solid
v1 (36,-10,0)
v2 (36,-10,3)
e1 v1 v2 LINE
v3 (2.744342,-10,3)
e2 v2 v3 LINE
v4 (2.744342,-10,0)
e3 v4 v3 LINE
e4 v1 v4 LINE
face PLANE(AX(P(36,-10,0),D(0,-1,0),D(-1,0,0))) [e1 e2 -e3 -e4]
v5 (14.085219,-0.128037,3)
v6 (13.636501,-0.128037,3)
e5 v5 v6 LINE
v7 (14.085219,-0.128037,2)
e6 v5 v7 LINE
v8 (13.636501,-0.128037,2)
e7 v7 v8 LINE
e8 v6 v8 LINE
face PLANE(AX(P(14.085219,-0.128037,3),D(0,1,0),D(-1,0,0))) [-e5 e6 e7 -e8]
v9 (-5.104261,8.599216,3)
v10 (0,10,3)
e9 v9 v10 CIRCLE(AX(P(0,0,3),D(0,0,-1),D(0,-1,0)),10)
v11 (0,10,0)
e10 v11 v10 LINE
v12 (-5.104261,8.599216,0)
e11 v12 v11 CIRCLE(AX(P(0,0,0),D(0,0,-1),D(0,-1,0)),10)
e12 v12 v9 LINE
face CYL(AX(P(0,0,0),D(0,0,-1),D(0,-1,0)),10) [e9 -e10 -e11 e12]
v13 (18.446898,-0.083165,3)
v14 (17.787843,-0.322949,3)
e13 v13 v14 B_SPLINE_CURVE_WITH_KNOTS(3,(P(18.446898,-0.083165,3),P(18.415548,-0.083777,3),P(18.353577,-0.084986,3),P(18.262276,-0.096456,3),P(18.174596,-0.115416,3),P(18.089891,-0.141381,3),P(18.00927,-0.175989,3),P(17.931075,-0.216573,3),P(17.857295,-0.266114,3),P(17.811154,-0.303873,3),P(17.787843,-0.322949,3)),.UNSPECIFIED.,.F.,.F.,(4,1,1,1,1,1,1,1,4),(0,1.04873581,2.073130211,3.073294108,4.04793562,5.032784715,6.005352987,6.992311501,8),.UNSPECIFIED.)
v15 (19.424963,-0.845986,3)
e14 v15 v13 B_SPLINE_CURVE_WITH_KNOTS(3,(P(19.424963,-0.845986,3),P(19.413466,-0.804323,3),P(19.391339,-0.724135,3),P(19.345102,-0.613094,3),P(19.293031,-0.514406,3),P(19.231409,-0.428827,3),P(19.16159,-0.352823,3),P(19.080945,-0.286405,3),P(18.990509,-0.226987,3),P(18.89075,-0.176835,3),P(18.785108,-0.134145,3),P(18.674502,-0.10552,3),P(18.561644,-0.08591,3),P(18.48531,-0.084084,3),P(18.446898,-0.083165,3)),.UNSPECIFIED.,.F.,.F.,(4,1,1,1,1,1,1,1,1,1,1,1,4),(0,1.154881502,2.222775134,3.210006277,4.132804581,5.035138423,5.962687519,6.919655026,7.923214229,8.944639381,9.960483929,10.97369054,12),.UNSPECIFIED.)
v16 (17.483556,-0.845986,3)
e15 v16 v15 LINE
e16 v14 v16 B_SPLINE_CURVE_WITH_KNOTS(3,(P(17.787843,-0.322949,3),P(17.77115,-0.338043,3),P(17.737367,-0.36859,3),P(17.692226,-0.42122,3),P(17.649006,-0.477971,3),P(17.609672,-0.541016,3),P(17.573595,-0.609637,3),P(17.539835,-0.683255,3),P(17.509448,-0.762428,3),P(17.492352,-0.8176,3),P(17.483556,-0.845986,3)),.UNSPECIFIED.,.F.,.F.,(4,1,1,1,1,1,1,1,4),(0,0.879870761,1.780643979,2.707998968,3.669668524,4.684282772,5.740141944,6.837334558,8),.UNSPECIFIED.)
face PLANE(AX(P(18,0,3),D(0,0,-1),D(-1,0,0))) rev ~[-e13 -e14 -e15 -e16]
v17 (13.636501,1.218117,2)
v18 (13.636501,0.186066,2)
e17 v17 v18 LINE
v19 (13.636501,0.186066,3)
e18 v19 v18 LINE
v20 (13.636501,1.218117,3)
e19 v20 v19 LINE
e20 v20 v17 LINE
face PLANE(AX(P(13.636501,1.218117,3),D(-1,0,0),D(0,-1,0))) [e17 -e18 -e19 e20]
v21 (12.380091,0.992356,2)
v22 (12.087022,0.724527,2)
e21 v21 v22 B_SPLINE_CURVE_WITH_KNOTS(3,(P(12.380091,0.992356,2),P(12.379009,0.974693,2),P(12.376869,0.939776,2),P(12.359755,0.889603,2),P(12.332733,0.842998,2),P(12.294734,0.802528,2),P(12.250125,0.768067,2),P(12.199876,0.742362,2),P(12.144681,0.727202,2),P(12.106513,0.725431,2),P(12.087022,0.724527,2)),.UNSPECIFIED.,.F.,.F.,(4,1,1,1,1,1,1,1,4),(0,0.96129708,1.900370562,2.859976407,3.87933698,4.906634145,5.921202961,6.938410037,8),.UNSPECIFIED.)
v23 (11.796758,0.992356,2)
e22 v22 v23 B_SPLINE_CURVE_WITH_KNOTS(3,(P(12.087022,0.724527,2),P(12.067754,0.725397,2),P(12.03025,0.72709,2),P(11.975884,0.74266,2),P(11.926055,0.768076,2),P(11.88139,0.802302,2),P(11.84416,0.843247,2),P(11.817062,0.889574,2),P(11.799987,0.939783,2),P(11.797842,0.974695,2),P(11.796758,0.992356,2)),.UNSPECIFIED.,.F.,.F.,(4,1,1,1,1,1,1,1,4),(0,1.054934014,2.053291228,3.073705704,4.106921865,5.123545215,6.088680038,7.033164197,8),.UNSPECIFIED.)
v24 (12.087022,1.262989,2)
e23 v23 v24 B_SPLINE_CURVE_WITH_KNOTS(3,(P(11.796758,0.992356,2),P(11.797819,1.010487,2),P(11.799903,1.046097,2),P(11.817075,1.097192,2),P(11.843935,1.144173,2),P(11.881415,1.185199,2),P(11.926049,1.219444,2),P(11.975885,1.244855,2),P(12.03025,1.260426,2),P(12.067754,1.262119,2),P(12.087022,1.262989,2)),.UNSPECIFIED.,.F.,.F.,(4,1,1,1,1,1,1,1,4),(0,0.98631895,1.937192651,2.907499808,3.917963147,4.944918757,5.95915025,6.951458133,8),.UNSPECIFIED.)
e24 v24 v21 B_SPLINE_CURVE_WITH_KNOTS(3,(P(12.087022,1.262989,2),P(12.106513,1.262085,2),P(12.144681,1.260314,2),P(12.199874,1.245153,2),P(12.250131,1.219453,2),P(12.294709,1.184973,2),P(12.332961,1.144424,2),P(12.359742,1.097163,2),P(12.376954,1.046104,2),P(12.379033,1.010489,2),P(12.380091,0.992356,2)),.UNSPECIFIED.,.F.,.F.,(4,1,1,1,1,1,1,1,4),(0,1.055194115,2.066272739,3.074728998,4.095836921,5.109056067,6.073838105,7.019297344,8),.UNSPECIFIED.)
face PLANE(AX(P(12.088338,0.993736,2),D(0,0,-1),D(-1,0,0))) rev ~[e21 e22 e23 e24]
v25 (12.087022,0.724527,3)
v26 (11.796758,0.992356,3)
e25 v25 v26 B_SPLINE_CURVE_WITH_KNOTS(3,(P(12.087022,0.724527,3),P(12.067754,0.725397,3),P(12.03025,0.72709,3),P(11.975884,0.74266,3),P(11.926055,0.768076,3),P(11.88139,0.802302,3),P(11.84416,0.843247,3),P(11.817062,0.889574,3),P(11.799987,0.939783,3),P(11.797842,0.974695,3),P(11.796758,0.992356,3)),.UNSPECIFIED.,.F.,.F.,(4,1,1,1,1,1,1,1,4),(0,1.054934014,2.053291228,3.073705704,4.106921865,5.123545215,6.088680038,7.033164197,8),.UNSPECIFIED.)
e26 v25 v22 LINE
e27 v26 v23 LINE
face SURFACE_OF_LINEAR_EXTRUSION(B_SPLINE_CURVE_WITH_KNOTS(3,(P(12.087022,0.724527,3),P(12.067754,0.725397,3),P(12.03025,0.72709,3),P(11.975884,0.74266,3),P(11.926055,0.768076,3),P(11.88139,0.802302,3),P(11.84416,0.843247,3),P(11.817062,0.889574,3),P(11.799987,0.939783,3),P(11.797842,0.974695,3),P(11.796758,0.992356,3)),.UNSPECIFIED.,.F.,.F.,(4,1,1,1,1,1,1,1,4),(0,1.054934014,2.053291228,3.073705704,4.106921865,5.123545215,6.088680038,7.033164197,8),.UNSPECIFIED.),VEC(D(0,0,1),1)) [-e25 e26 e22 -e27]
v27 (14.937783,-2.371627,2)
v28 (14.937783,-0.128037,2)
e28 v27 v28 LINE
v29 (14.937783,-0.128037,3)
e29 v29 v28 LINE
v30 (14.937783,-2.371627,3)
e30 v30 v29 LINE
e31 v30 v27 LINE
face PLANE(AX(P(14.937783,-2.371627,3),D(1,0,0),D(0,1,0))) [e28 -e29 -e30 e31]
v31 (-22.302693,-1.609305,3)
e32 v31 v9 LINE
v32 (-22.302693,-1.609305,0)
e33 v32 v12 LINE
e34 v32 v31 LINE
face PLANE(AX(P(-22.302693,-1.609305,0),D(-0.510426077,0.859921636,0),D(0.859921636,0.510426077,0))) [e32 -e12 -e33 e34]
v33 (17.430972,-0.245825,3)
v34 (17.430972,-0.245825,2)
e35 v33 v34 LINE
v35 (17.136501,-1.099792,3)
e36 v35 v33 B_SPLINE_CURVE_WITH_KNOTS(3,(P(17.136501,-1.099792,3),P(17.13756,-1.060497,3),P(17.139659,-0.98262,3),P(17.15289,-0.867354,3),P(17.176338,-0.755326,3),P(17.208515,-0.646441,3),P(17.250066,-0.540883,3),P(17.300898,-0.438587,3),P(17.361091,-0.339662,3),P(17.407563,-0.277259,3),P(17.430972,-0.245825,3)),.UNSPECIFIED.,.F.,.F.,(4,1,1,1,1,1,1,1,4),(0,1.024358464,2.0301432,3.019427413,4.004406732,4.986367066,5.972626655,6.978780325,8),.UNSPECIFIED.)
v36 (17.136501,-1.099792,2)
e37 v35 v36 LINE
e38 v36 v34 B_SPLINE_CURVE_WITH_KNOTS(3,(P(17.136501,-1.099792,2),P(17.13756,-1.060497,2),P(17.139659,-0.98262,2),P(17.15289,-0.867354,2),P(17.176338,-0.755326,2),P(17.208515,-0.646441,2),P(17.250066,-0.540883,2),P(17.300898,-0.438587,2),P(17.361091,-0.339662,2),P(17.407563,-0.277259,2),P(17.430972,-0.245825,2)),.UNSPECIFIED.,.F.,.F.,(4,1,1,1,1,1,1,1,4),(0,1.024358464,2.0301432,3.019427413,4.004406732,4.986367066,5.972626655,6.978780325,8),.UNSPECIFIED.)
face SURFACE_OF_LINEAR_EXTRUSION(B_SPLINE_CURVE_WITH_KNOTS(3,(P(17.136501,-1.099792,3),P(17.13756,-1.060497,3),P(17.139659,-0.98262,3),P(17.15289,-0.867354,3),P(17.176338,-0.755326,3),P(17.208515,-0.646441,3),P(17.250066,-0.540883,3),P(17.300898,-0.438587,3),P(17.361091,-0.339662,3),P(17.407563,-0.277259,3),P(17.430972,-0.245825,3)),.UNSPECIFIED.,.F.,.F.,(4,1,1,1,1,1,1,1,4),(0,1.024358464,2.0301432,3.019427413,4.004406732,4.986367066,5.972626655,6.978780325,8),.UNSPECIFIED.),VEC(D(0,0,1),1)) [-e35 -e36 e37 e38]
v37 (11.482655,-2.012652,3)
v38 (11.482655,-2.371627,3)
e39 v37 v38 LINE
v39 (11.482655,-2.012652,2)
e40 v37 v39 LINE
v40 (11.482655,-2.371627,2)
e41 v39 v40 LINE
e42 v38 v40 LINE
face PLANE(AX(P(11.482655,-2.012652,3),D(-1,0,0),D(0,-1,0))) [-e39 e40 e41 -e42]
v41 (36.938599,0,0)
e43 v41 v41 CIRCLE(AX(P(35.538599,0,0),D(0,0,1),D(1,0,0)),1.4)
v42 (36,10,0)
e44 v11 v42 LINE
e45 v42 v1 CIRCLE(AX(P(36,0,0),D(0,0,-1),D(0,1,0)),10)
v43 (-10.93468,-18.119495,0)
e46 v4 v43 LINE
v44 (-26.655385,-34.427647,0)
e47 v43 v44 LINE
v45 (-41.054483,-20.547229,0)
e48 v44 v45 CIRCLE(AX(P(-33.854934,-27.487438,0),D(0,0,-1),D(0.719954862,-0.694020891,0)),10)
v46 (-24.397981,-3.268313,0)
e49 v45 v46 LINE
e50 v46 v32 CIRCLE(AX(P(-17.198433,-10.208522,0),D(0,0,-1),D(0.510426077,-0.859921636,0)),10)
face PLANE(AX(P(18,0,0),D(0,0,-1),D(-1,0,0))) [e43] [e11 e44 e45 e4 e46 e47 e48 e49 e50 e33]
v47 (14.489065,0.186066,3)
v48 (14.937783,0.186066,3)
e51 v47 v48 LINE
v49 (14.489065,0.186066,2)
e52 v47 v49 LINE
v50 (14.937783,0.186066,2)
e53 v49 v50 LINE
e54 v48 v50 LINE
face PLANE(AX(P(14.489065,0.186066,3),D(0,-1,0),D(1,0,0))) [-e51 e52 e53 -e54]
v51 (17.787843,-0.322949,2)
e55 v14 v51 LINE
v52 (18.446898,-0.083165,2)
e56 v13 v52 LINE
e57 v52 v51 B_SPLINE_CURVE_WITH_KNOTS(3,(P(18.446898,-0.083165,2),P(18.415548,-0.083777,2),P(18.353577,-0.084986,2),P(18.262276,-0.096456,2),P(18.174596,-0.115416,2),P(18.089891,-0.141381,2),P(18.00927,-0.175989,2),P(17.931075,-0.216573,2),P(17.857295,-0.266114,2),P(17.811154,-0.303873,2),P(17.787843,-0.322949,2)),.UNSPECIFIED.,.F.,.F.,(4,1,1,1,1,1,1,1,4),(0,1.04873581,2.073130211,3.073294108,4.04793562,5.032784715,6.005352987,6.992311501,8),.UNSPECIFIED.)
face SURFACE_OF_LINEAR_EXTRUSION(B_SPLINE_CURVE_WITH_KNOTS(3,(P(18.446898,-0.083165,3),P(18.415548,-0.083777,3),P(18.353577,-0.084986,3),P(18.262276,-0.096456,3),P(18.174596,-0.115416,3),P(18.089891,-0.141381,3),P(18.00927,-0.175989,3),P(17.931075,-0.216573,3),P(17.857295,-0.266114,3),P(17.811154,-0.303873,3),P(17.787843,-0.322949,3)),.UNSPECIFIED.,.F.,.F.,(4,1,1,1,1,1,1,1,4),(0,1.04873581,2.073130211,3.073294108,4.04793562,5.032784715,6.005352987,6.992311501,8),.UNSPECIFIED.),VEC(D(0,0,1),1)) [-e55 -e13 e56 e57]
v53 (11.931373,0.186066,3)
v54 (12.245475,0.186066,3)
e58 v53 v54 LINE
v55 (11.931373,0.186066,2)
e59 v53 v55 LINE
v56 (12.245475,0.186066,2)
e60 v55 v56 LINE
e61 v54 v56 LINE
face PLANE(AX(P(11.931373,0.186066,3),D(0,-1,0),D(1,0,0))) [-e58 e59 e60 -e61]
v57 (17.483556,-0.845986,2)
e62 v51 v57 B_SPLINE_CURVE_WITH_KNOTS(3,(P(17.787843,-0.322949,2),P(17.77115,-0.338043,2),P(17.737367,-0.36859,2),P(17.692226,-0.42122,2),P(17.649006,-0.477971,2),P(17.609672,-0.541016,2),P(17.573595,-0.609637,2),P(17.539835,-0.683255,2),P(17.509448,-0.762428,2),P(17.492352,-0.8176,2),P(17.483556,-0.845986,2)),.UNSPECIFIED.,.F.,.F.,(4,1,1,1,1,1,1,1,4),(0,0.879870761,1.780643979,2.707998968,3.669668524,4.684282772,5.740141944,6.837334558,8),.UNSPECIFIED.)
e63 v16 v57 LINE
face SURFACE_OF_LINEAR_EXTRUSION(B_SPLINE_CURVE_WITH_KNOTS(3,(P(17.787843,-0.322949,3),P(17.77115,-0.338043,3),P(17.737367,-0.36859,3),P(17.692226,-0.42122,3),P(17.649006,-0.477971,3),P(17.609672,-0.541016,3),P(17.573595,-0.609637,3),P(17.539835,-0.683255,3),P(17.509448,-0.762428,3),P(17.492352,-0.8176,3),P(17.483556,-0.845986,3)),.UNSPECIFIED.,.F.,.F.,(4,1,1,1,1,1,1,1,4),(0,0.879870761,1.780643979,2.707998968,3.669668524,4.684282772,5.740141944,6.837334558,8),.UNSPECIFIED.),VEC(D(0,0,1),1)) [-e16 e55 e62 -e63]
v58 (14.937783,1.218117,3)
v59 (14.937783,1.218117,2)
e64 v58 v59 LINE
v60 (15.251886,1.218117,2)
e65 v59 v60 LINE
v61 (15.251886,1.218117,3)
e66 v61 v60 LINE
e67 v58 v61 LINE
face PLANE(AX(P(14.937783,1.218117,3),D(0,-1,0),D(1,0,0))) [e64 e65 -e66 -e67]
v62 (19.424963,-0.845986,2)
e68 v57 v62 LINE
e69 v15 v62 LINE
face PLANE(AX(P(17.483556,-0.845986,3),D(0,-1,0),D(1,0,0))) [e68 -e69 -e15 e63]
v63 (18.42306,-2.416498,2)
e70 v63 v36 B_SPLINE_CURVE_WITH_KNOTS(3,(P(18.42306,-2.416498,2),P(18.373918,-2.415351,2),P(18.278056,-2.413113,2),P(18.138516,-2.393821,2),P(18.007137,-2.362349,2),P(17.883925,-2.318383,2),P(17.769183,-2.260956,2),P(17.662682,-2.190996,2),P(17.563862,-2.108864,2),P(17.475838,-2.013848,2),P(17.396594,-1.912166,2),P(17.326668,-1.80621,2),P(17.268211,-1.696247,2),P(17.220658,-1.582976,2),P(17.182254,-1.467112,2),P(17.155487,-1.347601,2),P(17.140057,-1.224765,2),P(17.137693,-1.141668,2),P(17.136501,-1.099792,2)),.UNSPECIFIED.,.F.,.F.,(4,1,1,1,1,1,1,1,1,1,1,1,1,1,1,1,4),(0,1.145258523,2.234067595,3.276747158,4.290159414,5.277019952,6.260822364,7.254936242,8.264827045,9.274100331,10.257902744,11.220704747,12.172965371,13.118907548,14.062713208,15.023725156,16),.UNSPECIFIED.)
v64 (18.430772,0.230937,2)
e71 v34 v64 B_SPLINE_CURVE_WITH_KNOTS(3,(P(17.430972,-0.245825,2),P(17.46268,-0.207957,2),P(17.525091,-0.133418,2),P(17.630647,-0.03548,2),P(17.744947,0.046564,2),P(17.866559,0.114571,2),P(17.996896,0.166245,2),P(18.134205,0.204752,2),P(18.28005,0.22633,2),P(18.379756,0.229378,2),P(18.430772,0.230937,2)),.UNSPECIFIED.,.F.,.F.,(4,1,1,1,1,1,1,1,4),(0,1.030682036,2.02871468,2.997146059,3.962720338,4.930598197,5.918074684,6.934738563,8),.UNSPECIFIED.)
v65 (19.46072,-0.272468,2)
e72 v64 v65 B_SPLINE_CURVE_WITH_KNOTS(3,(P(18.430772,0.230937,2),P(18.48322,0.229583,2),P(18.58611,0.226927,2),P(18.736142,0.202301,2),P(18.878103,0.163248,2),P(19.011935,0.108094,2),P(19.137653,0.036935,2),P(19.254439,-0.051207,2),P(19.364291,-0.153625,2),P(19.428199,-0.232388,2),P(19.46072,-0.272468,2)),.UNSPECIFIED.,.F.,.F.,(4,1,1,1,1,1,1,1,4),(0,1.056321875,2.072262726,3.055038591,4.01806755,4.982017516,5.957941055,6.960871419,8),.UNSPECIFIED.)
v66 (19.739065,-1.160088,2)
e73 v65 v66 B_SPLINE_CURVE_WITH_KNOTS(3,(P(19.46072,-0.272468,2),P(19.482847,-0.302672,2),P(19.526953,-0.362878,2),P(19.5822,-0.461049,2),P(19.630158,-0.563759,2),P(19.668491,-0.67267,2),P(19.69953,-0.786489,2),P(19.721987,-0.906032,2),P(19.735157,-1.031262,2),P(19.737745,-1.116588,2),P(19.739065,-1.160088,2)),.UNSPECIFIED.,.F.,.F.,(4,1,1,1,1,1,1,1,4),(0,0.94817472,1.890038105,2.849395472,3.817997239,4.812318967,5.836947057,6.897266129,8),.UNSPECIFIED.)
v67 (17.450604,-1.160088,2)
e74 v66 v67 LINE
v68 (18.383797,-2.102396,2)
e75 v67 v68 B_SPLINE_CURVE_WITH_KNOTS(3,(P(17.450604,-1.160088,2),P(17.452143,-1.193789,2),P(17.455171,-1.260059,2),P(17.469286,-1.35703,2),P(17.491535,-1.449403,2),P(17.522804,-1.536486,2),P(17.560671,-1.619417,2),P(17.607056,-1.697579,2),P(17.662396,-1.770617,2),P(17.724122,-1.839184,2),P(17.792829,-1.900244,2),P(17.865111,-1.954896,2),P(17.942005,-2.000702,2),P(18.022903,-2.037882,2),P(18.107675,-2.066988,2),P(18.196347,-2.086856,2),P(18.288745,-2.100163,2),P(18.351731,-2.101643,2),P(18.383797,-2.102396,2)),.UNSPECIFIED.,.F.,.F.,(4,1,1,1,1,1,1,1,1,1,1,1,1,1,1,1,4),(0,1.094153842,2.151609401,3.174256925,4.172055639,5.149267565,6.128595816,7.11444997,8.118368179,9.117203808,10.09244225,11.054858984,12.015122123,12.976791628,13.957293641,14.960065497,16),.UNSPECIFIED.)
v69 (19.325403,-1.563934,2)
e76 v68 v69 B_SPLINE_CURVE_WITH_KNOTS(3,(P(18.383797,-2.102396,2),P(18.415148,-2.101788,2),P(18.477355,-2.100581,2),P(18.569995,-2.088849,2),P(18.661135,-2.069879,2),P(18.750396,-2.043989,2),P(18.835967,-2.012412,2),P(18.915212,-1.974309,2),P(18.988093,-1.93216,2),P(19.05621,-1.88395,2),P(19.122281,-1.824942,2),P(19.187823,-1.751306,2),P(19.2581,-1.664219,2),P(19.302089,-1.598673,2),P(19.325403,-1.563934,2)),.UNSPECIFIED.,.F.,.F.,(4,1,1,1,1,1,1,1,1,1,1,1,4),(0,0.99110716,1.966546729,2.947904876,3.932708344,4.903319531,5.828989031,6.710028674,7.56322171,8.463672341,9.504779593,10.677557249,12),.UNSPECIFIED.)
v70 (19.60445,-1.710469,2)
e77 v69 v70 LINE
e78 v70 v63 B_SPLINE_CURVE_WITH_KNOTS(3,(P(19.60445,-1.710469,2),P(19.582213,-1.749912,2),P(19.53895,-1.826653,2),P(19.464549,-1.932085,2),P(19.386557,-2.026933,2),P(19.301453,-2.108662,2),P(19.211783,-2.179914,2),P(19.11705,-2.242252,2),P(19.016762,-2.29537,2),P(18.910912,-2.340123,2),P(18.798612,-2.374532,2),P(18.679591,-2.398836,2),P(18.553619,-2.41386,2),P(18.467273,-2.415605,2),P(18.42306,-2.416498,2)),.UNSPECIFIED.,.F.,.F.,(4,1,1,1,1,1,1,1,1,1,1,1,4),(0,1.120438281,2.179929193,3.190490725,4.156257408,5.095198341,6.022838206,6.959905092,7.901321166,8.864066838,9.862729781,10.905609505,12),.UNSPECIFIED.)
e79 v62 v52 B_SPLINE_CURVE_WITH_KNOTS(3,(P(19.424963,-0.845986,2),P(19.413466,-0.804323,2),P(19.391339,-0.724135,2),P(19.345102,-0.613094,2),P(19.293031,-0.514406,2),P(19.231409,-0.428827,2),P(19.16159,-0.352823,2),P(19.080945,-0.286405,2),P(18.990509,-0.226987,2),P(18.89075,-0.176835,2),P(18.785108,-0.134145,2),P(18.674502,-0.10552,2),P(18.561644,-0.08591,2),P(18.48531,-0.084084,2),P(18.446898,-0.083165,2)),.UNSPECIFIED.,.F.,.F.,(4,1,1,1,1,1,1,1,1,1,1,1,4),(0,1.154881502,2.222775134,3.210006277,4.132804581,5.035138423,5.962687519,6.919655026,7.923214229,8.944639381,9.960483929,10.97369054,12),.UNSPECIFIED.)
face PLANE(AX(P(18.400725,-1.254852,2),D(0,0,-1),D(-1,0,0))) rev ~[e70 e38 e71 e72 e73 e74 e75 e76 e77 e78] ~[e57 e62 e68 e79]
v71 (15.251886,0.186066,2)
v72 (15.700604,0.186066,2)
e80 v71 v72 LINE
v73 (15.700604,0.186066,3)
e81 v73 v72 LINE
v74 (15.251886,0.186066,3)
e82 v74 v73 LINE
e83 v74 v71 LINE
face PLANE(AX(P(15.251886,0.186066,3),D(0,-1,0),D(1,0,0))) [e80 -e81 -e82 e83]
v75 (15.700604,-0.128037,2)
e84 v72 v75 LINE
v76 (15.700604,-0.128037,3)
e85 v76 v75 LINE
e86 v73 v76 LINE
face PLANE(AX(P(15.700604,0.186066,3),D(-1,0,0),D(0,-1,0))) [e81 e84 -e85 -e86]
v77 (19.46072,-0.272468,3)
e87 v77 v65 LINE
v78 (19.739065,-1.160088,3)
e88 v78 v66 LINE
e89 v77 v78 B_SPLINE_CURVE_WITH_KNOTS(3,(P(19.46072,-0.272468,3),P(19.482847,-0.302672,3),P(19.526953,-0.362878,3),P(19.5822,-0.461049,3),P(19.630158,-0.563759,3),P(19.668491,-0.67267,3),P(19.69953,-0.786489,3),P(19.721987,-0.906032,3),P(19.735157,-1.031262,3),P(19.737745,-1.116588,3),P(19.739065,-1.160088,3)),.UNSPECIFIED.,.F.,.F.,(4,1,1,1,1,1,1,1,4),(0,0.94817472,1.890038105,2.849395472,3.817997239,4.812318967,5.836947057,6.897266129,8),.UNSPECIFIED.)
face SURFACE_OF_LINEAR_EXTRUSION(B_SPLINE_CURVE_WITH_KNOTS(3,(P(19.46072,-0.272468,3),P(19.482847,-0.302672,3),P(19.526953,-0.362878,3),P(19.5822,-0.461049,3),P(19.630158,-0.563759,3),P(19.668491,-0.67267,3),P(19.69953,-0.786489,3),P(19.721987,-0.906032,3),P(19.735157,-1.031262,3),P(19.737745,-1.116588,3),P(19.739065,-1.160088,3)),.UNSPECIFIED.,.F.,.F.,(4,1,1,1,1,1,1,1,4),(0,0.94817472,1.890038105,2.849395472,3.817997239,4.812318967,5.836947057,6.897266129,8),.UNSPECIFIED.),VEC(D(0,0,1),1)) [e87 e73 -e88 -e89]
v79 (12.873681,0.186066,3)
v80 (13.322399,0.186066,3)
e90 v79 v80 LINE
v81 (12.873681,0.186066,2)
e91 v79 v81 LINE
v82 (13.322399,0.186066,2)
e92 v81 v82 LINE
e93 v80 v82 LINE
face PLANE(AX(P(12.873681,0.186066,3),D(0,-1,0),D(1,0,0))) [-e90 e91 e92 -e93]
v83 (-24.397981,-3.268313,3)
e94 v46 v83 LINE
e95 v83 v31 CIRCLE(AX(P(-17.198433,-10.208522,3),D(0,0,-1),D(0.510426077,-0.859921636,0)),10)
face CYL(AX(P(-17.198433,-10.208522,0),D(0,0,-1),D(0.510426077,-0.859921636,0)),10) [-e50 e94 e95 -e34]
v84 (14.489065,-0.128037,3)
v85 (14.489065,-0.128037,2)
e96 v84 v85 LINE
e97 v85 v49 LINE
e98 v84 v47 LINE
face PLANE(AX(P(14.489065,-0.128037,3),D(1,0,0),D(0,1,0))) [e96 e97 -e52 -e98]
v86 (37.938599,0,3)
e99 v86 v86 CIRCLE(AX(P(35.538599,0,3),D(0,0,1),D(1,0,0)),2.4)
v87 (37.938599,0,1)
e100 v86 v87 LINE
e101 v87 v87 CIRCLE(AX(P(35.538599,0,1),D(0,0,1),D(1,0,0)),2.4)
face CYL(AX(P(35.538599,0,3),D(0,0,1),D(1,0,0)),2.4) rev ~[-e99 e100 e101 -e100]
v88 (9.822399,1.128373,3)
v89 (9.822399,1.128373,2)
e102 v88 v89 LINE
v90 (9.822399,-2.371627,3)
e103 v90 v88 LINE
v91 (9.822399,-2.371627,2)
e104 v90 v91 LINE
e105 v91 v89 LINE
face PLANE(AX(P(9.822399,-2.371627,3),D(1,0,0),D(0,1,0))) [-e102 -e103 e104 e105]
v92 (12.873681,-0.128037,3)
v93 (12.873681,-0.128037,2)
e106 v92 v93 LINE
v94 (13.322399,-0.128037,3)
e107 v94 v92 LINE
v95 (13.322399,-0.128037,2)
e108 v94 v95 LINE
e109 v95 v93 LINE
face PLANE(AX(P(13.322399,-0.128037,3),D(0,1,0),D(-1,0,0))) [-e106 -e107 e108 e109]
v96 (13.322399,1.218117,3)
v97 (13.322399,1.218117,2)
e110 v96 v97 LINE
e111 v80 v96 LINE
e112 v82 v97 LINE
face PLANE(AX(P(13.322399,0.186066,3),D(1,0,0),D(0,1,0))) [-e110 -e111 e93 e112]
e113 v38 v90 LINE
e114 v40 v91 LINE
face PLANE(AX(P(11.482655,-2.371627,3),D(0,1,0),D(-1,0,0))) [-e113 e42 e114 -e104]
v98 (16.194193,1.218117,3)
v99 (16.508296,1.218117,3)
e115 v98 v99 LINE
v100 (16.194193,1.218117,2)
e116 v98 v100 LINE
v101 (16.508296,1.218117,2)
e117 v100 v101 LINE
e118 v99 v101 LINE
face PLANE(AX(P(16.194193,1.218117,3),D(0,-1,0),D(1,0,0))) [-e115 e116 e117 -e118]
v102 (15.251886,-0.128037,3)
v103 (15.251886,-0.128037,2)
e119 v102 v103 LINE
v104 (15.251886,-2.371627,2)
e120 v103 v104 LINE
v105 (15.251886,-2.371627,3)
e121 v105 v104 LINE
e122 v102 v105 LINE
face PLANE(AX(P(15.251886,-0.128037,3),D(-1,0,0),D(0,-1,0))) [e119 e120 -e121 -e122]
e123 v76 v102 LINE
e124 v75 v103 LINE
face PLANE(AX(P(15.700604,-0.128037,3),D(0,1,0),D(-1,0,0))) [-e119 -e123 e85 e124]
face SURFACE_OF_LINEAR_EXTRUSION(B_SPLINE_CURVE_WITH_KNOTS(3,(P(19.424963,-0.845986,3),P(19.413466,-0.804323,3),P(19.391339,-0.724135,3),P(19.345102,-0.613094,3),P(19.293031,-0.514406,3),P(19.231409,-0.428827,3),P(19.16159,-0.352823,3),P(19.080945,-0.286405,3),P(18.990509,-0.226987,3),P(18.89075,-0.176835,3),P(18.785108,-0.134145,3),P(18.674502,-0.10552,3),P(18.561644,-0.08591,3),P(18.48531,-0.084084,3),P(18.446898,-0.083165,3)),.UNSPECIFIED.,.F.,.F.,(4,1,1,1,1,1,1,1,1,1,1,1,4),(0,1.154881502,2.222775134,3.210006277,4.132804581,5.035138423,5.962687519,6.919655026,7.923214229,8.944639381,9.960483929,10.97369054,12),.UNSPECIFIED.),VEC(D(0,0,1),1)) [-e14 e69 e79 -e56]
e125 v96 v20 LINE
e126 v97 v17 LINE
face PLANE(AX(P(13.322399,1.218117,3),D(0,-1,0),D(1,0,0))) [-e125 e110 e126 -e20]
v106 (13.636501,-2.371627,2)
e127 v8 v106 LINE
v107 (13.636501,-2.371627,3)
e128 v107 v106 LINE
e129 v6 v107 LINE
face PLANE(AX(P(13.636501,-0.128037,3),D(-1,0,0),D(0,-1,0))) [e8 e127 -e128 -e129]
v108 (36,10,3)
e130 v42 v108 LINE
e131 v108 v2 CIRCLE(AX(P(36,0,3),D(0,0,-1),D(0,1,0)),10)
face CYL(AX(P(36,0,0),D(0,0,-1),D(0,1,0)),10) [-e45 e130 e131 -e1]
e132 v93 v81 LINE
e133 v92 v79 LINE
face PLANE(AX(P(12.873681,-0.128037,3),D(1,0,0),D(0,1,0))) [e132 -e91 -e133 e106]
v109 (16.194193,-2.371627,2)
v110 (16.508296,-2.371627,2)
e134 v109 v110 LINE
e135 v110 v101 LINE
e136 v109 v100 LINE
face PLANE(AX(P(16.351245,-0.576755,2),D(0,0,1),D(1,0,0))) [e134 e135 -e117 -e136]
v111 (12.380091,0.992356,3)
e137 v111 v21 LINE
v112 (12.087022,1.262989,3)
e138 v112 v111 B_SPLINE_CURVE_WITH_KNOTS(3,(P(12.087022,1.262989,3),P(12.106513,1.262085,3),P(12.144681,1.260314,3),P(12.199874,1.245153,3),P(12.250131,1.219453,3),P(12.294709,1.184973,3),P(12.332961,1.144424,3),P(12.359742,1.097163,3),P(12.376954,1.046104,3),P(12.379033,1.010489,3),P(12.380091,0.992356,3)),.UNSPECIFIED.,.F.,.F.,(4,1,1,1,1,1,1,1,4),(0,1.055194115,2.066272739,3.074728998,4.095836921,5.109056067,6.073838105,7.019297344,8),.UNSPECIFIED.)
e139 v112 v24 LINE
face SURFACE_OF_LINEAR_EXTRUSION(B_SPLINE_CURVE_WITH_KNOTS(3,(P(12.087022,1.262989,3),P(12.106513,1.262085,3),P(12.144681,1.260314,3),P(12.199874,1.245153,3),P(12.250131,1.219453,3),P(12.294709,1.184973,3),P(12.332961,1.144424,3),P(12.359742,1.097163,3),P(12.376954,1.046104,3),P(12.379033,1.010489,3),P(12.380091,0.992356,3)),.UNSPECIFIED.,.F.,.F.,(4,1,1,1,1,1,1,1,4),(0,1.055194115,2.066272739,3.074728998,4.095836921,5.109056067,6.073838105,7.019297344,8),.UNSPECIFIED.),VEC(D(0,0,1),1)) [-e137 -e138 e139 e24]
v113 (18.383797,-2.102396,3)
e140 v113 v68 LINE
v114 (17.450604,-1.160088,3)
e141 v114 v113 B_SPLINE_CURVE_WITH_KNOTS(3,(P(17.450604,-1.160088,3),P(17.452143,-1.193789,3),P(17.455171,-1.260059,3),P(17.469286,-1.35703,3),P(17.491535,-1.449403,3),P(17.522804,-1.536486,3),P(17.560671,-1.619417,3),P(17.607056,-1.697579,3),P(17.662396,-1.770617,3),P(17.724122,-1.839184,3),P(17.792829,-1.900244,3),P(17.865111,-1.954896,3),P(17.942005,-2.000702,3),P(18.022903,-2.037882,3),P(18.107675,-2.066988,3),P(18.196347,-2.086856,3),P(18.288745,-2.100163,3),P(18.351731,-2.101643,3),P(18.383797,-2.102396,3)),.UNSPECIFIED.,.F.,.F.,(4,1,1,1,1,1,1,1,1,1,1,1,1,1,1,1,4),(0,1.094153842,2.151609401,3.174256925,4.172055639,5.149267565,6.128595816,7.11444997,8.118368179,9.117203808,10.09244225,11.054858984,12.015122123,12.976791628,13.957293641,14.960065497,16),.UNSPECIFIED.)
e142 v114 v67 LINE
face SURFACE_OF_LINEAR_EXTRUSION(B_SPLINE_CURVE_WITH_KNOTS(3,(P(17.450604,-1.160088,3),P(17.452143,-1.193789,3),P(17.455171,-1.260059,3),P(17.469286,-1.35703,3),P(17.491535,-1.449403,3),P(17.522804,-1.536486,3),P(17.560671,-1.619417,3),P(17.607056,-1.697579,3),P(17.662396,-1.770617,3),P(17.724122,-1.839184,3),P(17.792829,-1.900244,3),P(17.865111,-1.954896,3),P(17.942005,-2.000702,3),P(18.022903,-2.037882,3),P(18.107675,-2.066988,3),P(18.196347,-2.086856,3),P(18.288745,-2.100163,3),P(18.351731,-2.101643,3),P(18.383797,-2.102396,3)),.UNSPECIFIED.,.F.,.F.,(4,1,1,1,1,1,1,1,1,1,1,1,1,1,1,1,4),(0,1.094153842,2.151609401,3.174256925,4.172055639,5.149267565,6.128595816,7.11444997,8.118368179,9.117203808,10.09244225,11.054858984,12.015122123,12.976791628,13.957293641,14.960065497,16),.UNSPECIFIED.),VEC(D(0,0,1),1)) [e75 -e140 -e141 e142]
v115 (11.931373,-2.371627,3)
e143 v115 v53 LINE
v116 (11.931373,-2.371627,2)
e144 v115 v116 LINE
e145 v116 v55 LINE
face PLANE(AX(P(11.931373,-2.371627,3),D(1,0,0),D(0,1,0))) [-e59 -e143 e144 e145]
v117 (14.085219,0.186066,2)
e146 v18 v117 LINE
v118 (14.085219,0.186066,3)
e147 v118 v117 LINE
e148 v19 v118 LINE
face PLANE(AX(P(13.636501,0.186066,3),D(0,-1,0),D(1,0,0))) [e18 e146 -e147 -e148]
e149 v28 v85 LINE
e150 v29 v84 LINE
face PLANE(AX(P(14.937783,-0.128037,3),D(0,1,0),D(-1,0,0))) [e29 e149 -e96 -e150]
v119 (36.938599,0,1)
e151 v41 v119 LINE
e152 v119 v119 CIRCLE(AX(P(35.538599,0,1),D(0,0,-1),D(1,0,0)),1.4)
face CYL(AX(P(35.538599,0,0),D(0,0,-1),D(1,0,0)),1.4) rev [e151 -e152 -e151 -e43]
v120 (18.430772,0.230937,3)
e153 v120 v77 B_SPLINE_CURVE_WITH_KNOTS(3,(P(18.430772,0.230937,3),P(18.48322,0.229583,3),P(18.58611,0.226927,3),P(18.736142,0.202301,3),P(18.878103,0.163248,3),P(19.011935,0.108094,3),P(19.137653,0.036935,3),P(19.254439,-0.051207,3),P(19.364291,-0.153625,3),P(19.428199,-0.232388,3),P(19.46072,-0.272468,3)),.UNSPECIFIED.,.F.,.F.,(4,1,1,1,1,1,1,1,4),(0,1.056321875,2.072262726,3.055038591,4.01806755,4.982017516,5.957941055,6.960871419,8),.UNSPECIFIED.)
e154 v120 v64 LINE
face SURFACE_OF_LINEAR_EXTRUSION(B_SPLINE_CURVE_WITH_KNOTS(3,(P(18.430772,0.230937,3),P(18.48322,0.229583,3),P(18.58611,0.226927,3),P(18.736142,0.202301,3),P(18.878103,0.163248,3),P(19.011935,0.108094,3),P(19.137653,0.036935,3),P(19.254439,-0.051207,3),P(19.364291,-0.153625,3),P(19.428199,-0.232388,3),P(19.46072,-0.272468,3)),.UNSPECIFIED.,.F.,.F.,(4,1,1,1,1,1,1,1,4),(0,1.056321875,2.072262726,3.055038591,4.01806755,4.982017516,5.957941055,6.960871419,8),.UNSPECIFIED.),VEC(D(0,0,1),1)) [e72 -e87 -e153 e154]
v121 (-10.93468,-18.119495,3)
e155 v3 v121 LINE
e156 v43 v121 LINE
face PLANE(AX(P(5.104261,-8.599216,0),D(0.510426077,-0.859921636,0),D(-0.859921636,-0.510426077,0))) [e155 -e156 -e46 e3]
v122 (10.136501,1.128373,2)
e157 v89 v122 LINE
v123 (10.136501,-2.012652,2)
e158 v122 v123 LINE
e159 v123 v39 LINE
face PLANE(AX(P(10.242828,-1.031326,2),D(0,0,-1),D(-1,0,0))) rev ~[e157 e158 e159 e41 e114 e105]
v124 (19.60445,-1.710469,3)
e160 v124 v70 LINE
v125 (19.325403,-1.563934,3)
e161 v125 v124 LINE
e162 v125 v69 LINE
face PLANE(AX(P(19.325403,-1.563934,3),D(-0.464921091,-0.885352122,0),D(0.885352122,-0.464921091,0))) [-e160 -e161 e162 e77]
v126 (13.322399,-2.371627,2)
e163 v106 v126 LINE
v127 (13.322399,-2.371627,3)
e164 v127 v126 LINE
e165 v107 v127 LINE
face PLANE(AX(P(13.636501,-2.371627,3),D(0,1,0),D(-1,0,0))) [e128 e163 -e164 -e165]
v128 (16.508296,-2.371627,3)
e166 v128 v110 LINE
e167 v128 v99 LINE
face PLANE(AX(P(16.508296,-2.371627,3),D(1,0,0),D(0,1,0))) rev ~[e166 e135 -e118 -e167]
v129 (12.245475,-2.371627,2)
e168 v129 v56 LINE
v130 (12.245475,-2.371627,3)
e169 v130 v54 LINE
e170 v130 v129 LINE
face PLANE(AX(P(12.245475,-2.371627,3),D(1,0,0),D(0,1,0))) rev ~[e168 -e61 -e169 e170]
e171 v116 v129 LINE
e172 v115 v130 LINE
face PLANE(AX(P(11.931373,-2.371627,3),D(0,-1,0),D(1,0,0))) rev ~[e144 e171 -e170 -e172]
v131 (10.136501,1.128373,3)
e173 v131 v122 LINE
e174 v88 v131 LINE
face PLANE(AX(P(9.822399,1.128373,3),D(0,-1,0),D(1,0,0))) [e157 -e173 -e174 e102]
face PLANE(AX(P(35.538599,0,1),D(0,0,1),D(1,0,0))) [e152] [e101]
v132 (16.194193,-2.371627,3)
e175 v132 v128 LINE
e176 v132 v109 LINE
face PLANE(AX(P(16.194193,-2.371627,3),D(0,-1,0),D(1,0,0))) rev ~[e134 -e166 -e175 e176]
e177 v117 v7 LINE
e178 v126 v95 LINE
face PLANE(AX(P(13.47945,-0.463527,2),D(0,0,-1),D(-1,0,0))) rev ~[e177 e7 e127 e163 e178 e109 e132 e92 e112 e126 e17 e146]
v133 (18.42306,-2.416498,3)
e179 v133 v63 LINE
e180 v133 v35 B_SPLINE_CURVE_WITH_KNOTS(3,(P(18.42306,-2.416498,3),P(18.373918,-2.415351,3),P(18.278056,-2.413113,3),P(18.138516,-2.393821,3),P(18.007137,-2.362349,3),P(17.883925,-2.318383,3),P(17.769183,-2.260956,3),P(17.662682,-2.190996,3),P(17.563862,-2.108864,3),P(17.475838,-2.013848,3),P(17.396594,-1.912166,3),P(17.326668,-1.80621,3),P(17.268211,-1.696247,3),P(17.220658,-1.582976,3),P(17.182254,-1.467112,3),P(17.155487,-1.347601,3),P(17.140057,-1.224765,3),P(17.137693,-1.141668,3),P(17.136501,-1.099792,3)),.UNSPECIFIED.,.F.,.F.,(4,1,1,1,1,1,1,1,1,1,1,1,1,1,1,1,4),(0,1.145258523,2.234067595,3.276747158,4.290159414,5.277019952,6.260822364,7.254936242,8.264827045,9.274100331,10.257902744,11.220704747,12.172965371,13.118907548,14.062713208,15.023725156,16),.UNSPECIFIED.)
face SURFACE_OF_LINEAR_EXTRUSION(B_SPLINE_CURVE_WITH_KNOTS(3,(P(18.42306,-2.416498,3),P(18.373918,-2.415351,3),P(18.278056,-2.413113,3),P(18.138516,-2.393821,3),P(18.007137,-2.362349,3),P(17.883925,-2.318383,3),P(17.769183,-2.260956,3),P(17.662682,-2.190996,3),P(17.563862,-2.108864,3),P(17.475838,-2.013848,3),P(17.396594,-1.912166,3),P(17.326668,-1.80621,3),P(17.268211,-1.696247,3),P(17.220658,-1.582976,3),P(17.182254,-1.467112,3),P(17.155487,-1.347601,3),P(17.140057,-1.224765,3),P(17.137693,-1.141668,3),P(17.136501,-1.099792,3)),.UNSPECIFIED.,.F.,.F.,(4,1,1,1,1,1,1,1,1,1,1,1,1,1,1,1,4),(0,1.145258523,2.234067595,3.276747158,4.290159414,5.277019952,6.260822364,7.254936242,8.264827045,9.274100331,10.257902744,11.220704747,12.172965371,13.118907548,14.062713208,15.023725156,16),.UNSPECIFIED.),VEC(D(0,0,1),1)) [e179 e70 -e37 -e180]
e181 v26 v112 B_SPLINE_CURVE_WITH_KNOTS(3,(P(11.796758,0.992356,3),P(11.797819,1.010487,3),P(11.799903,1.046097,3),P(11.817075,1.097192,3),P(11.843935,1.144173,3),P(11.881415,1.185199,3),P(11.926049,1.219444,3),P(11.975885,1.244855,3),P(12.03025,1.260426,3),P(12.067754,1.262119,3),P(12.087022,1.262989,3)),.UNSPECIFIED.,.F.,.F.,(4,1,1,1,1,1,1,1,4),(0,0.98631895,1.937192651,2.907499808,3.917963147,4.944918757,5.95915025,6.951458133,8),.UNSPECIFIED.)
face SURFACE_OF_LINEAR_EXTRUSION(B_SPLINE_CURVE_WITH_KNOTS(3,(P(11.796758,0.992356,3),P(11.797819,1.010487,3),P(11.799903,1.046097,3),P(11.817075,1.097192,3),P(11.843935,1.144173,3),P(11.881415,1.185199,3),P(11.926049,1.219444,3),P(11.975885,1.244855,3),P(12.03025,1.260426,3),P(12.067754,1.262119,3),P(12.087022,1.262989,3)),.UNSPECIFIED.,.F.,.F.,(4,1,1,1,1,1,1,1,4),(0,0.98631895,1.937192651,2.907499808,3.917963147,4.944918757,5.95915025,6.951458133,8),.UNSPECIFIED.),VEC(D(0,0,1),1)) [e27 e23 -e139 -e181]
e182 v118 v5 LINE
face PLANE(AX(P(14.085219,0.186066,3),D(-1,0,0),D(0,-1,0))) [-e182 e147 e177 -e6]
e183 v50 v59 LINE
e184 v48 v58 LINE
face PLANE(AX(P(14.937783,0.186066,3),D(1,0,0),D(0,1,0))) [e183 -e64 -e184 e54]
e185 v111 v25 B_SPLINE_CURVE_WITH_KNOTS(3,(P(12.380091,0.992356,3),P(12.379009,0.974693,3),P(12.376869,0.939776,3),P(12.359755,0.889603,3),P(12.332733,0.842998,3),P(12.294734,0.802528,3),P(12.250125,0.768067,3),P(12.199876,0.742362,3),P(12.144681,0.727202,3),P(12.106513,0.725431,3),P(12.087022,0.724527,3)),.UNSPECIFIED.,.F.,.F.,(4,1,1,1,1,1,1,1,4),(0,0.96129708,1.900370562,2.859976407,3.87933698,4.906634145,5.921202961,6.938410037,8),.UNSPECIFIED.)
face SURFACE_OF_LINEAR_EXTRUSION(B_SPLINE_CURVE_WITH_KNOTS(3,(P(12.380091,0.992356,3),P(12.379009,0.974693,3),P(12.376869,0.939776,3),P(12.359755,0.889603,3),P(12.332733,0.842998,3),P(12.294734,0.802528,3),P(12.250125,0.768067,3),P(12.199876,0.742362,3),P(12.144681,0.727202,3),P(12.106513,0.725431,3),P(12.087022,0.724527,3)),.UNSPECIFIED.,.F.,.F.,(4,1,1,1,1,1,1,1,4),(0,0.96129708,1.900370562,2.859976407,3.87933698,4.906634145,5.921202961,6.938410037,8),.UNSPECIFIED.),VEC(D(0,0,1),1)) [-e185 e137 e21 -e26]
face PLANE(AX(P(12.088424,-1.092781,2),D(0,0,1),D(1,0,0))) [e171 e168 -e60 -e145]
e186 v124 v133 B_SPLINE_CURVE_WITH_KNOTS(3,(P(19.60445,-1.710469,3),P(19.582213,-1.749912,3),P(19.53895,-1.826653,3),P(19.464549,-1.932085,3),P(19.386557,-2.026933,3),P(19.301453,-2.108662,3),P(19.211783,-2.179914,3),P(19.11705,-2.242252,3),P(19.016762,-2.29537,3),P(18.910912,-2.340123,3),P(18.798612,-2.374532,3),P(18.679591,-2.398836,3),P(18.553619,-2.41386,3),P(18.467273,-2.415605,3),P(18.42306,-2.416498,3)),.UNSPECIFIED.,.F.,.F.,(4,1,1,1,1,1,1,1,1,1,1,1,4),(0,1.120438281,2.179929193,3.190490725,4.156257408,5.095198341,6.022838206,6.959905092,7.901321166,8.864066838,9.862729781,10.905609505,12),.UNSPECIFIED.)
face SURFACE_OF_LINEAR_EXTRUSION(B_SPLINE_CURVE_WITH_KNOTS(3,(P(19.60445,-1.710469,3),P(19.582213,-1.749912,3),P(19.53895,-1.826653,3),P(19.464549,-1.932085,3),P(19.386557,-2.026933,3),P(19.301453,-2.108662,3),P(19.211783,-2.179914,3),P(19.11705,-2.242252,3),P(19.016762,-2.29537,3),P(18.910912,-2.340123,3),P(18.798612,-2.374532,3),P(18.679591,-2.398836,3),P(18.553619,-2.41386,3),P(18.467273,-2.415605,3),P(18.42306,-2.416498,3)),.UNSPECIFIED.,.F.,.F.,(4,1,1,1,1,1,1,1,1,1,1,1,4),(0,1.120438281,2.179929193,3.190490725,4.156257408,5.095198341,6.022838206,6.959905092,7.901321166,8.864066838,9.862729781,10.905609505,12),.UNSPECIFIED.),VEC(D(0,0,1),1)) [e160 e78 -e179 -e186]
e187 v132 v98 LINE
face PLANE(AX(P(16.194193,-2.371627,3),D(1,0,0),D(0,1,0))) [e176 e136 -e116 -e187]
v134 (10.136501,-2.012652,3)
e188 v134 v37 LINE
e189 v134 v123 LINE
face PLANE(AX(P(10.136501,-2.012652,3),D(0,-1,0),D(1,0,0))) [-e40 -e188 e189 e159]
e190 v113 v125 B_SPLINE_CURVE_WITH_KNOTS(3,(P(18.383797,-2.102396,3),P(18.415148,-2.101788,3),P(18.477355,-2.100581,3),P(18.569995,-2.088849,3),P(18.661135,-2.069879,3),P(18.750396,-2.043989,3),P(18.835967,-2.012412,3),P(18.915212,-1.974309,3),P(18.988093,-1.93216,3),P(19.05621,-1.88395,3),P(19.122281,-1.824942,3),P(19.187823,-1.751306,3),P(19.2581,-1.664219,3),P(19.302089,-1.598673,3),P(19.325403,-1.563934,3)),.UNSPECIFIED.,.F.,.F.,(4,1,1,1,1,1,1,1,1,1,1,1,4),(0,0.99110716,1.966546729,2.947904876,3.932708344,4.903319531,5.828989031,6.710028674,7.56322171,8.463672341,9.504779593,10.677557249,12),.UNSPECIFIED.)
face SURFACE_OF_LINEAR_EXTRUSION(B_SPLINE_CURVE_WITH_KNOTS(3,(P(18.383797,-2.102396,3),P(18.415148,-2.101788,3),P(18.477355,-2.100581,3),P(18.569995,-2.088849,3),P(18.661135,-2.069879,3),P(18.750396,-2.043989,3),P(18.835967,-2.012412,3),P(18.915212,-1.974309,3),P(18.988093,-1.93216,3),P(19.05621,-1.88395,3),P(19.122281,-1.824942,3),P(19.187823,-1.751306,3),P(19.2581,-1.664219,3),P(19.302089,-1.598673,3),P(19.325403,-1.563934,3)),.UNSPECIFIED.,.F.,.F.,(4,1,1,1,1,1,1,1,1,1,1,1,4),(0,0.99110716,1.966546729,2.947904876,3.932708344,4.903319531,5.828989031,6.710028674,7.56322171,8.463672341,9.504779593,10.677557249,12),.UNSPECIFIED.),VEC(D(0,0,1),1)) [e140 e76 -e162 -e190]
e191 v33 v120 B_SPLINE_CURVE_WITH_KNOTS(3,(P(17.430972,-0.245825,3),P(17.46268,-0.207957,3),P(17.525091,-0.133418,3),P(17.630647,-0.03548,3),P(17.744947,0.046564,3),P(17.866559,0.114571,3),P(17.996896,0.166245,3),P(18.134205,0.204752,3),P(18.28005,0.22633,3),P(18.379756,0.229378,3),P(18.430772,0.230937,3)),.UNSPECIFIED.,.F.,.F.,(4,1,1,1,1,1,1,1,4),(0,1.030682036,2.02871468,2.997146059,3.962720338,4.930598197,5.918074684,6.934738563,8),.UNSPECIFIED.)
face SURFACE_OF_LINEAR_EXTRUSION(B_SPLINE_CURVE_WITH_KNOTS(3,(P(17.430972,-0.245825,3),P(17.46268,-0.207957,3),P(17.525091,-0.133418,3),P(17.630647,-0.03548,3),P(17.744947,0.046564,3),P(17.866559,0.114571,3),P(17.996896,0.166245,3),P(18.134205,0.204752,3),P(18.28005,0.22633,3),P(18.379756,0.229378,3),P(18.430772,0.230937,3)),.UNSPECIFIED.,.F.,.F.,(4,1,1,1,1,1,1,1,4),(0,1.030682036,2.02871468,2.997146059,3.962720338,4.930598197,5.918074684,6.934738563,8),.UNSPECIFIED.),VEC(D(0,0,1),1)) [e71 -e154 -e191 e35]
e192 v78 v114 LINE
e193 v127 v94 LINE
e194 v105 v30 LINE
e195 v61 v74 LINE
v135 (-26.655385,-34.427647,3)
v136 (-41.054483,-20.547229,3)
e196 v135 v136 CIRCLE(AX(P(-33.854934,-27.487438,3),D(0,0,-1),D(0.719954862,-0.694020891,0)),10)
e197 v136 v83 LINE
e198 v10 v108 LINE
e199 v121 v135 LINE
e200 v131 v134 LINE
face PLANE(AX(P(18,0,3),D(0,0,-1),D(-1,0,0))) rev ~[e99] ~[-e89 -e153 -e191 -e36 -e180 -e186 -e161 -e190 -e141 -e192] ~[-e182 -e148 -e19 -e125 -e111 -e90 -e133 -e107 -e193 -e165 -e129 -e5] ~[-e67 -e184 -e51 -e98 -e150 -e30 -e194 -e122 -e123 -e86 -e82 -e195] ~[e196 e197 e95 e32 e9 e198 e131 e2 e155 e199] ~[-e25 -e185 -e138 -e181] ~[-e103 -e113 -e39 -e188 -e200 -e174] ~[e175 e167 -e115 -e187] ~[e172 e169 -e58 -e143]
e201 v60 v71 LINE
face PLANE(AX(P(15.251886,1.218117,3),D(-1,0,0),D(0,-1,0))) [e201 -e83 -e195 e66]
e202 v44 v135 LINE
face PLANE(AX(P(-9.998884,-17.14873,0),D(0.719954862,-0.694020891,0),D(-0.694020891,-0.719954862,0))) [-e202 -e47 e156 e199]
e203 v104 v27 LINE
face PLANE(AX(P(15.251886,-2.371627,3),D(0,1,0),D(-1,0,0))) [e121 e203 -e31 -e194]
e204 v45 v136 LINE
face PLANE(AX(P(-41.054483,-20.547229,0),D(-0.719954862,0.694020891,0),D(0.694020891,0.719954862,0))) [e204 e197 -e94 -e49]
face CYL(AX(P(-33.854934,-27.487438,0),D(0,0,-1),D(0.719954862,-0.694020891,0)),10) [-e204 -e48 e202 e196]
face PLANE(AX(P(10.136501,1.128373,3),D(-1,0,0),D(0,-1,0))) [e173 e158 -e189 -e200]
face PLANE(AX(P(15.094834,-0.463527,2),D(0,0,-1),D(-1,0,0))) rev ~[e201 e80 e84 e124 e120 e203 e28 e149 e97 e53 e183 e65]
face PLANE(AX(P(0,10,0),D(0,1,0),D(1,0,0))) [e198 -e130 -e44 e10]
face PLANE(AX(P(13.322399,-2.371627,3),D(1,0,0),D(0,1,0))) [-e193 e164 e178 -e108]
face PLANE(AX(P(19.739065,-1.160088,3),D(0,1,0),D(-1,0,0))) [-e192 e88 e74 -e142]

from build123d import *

# Parameters (mm, degrees)
BOSS_EXTRUDE1_DEPTH = 3
BOSS_EXTRUDE2_DEPTH = 3
BOSS_EXTRUDE4_DEPTH = 3
SKETCH4_R           = 1.4
CUT_EXTRUDE5_DEPTH  = 3
SKETCH5_R           = 2.4
CUT_EXTRUDE6_DEPTH  = 2
SKETCH6_W           = 0.314102564
SKETCH6_H           = 2.557692308
SKETCH6_W_2         = 0.314102565
SKETCH6_H_2         = 3.58974359
CUT_EXTRUDE7_DEPTH  = 1


with BuildPart() as part:
    # Sketch1 → Boss-Extrude1 (new body)
    with BuildSketch(Plane.XY):
        with BuildLine():
            Line((0, 10), (36, 10))
            ThreePointArc((36, 10), (46, 0), (36, -10))
            Line((36, -10), (0, -10))
            ThreePointArc((0, -10), (-10, 0), (0, 10))
        make_face()
    extrude(amount=BOSS_EXTRUDE1_DEPTH)

    # Sketch2 → Boss-Extrude2 (add)
    with BuildSketch(Plane.XY):
        with BuildLine():
            Line((5.104260767, -8.599216361), (-12.094171954, -18.807737895))
            ThreePointArc((-12.094171954, -18.807737895), (-25.797649082, -15.312782302), (-22.302693489, -1.609305174))
            Line((-22.302693489, -1.609305174), (-5.104260767, 8.599216361))
            ThreePointArc((-5.104260767, 8.599216361), (8.599216361, 5.104260767), (5.104260767, -8.599216361))
        make_face()
    extrude(amount=BOSS_EXTRUDE2_DEPTH)

    # Sketch3 → Boss-Extrude4 (add)
    with BuildSketch(Plane.XY):
        with BuildLine():
            Line((-9.998884105, -17.148730445), (-26.65538549, -34.427647124))
            ThreePointArc((-26.65538549, -34.427647124), (-40.795143017, -34.68698683), (-41.054482723, -20.547229303))
            Line((-41.054482723, -20.547229303), (-24.397981338, -3.268312624))
            ThreePointArc((-24.397981338, -3.268312624), (-10.258223811, -3.008972918), (-9.998884105, -17.148730445))
        make_face()
    extrude(amount=BOSS_EXTRUDE4_DEPTH)

    # Sketch4 → Cut-Extrude5 (cut)
    with BuildSketch(Plane.XY):
        with Locations((35.538598823, 0)):
            Circle(SKETCH4_R)
    extrude(amount=CUT_EXTRUDE5_DEPTH, mode=Mode.SUBTRACT)

    # Sketch5 → Cut-Extrude6 (cut)
    with BuildSketch(Plane.XY.offset(3)):
        with Locations((35.538598823, 0)):
            Circle(SKETCH5_R)
    extrude(amount=-CUT_EXTRUDE6_DEPTH, mode=Mode.SUBTRACT)

    # Sketch6 → Cut-Extrude7 (cut)
    # profile 1 of 7: a face of its own
    with BuildSketch(Plane.XY.offset(3)):
        Polygon((9.822398538, 1.128373328), (10.136501102, 1.128373328), (10.136501102, -2.012652313), (11.482654948, -2.012652313), (11.482654948, -2.371626672), (9.822398538, -2.371626672), align=None)
    # profile 2 of 7: a face of its own
    with BuildSketch(Plane.XY.offset(3)):
        with BuildLine():
            add(Edge.make_bspline(
                [(12.087021935, 1.262988713), (12.106513251, 1.26208456), (12.144680991, 1.260314056), (12.199874258, 1.245152579), (12.250131271, 1.219452894), (12.294709003, 1.184973213), (12.33296089, 1.144423769), (12.3597416, 1.097162801), (12.376953997, 1.046104162), (12.379032552, 1.010489073), (12.380090845, 0.9923557)],
                knots=[0, 0, 0, 0, 1.055194115, 2.066272739, 3.074728998, 4.095836921, 5.109056067, 6.073838105, 7.019297344, 8, 8, 8, 8], degree=3))
            add(Edge.make_bspline(
                [(12.380090845, 0.9923557), (12.379008686, 0.974693047), (12.376869384, 0.939776072), (12.359754895, 0.889602599), (12.332732658, 0.842998316), (12.294733532, 0.802527606), (12.250124771, 0.768066986), (12.199875985, 0.742362247), (12.144680537, 0.72720211), (12.106513097, 0.725431421), (12.087021935, 0.724527174)],
                knots=[0, 0, 0, 0, 0.96129708, 1.900370562, 2.859976407, 3.87933698, 4.906634145, 5.921202961, 6.938410037, 8, 8, 8, 8], degree=3))
            add(Edge.make_bspline(
                [(12.087021935, 0.724527174), (12.06775366, 0.725396894), (12.03025048, 0.727089691), (11.975883637, 0.742659709), (11.926055148, 0.768075782), (11.881390475, 0.802301967), (11.844160282, 0.843246864), (11.817061957, 0.889574158), (11.799986995, 0.939783313), (11.797842366, 0.974695479), (11.796757512, 0.9923557)],
                knots=[0, 0, 0, 0, 1.054934014, 2.053291228, 3.073705704, 4.106921865, 5.123545215, 6.088680038, 7.033164197, 8, 8, 8, 8], degree=3))
            add(Edge.make_bspline(
                [(11.796757512, 0.9923557), (11.797818599, 1.010486549), (11.79990264, 1.046096682), (11.817074756, 1.097191715), (11.843934564, 1.144173217), (11.881415127, 1.185198716), (11.926048587, 1.219444151), (11.975885333, 1.244855132), (12.030250032, 1.260426472), (12.067753508, 1.262119086), (12.087021935, 1.262988713)],
                knots=[0, 0, 0, 0, 0.98631895, 1.937192651, 2.907499808, 3.917963147, 4.944918757, 5.95915025, 6.951458133, 8, 8, 8, 8], degree=3))
        make_face()
    # profile 3 of 7: a face of its own
    with BuildSketch(Plane.XY.offset(3)):
        with Locations((12.088424179, -1.092780518)):
            Rectangle(SKETCH6_W, SKETCH6_H)
    # profile 4 of 7: a face of its own
    with BuildSketch(Plane.XY.offset(3)):
        Polygon((13.322398538, 1.218116918), (13.636501102, 1.218116918), (13.636501102, 0.186065636), (14.085219051, 0.186065636), (14.085219051, -0.128036928), (13.636501102, -0.128036928), (13.636501102, -2.371626672), (13.322398538, -2.371626672), (13.322398538, -0.128036928), (12.873680589, -0.128036928), (12.873680589, 0.186065636), (13.322398538, 0.186065636), align=None)
    # profile 5 of 7: a face of its own
    with BuildSketch(Plane.XY.offset(3)):
        Polygon((14.937783153, 1.218116918), (15.251885717, 1.218116918), (15.251885717, 0.186065636), (15.700603666, 0.186065636), (15.700603666, -0.128036928), (15.251885717, -0.128036928), (15.251885717, -2.371626672), (14.937783153, -2.371626672), (14.937783153, -0.128036928), (14.489065204, -0.128036928), (14.489065204, 0.186065636), (14.937783153, 0.186065636), align=None)
    # profile 6 of 7: a face of its own
    with BuildSketch(Plane.XY.offset(3)):
        with Locations((16.351244691, -0.576754877)):
            Rectangle(SKETCH6_W_2, SKETCH6_H_2)
    # profile 7 of 7: a face of its own
    with BuildSketch(Plane.XY.offset(3)):
        with BuildLine():
            Line((19.325403345, -1.563934364), (19.60444982, -1.71046882))
            add(Edge.make_bspline(
                [(19.60444982, -1.71046882), (19.582213225, -1.749912151), (19.538949616, -1.826653254), (19.464548868, -1.932085114), (19.386556796, -2.02693283), (19.301452828, -2.108662484), (19.211783149, -2.179913869), (19.117050494, -2.242251694), (19.016761676, -2.295370214), (18.910911951, -2.340122742), (18.7986124, -2.374532236), (18.679590884, -2.398836457), (18.553619388, -2.413859726), (18.467273209, -2.415604867), (18.423059595, -2.416498467)],
                knots=[0, 0, 0, 0, 1.120438281, 2.179929193, 3.190490725, 4.156257408, 5.095198341, 6.022838206, 6.959905092, 7.901321166, 8.864066838, 9.862729781, 10.905609505, 12, 12, 12, 12], degree=3))
            add(Edge.make_bspline(
                [(18.423059595, -2.416498467), (18.373917618, -2.415351292), (18.278055856, -2.413113485), (18.138516109, -2.39382102), (18.007136691, -2.362348662), (17.883924987, -2.31838312), (17.769182735, -2.260955796), (17.66268188, -2.190996314), (17.563862354, -2.10886406), (17.475838145, -2.013847616), (17.396594262, -1.912165659), (17.326668442, -1.806209774), (17.268211011, -1.69624655), (17.220658401, -1.582976026), (17.182253536, -1.467112132), (17.155486832, -1.347600665), (17.140057084, -1.224765081), (17.137692639, -1.141667745), (17.136501102, -1.099791736)],
                knots=[0, 0, 0, 0, 1.145258523, 2.234067595, 3.276747158, 4.290159414, 5.277019952, 6.260822364, 7.254936242, 8.264827045, 9.274100331, 10.257902744, 11.220704747, 12.172965371, 13.118907548, 14.062713208, 15.023725156, 16, 16, 16, 16], degree=3))
            add(Edge.make_bspline(
                [(17.136501102, -1.099791736), (17.137560243, -1.060496906), (17.139659321, -0.982619741), (17.152890109, -0.867354197), (17.176338402, -0.755325744), (17.208514726, -0.646441296), (17.250065972, -0.540883162), (17.300898191, -0.438587098), (17.361090569, -0.339661959), (17.407563243, -0.277258825), (17.430972256, -0.24582539)],
                knots=[0, 0, 0, 0, 1.024358464, 2.0301432, 3.019427413, 4.004406732, 4.986367066, 5.972626655, 6.978780325, 8, 8, 8, 8], degree=3))
            add(Edge.make_bspline(
                [(17.430972256, -0.24582539), (17.462679938, -0.20795652), (17.525090885, -0.133418369), (17.63064724, -0.035480044), (17.744947437, 0.046563731), (17.866559063, 0.114570868), (17.996895537, 0.166244515), (18.134204828, 0.204752097), (18.280050414, 0.226330108), (18.379755635, 0.229377941), (18.430771935, 0.23093743)],
                knots=[0, 0, 0, 0, 1.030682036, 2.02871468, 2.997146059, 3.962720338, 4.930598197, 5.918074684, 6.934738563, 8, 8, 8, 8], degree=3))
            add(Edge.make_bspline(
                [(18.430771935, 0.23093743), (18.48321954, 0.229583382), (18.586109786, 0.226927046), (18.736141907, 0.202300713), (18.878102624, 0.163248158), (19.011935128, 0.108094368), (19.137652989, 0.036934816), (19.254439039, -0.051207025), (19.364290551, -0.153625113), (19.42819913, -0.232388322), (19.460719852, -0.272468018)],
                knots=[0, 0, 0, 0, 1.056321875, 2.072262726, 3.055038591, 4.01806755, 4.982017516, 5.957941055, 6.960871419, 8, 8, 8, 8], degree=3))
            add(Edge.make_bspline(
                [(19.460719852, -0.272468018), (19.48284679, -0.3026716), (19.526953383, -0.362877718), (19.582200483, -0.461048875), (19.630157878, -0.56375947), (19.668490839, -0.672669767), (19.69953034, -0.786489347), (19.721987159, -0.906031892), (19.735156778, -1.031261803), (19.737745475, -1.116588359), (19.739065204, -1.160088211)],
                knots=[0, 0, 0, 0, 0.94817472, 1.890038105, 2.849395472, 3.817997239, 4.812318967, 5.836947057, 6.897266129, 8, 8, 8, 8], degree=3))
            Line((19.739065204, -1.160088211), (17.450603666, -1.160088211))
            add(Edge.make_bspline(
                [(17.450603666, -1.160088211), (17.452143272, -1.193788675), (17.455170846, -1.260059279), (17.469285989, -1.357030062), (17.491534763, -1.449403404), (17.522803826, -1.536486446), (17.560670671, -1.619416573), (17.607056388, -1.69757861), (17.662395942, -1.77061654), (17.724121641, -1.839183678), (17.792828737, -1.900244439), (17.865111484, -1.954896215), (17.942005049, -2.000701812), (18.022903132, -2.037881702), (18.107674917, -2.066988018), (18.196347113, -2.086855839), (18.288745229, -2.100162945), (18.351730963, -2.101642611), (18.383796775, -2.102395903)],
                knots=[0, 0, 0, 0, 1.094153842, 2.151609401, 3.174256925, 4.172055639, 5.149267565, 6.128595816, 7.11444997, 8.118368179, 9.117203808, 10.09244225, 11.054858984, 12.015122123, 12.976791628, 13.957293641, 14.960065497, 16, 16, 16, 16], degree=3))
            add(Edge.make_bspline(
                [(18.383796775, -2.102395903), (18.415147922, -2.101787846), (18.477354613, -2.100581345), (18.569995471, -2.088849434), (18.661134998, -2.069879159), (18.750395981, -2.043989169), (18.835966827, -2.012412316), (18.915212377, -1.974309459), (18.988092593, -1.932159712), (19.05620956, -1.883950037), (19.122280553, -1.82494185), (19.187823039, -1.751306129), (19.258099693, -1.664218601), (19.302089285, -1.598672935), (19.325403345, -1.563934364)],
                knots=[0, 0, 0, 0, 0.99110716, 1.966546729, 2.947904876, 3.932708344, 4.903319531, 5.828989031, 6.710028674, 7.56322171, 8.463672341, 9.504779593, 10.677557249, 12, 12, 12, 12], degree=3))
        make_face()
        with BuildLine():
            add(Edge.make_bspline(
                [(19.42496264, -0.845985646), (19.413466016, -0.804322773), (19.391338714, -0.724135152), (19.34510235, -0.613094262), (19.293030809, -0.514406361), (19.231409078, -0.428826728), (19.161590352, -0.352823215), (19.080945169, -0.286404629), (18.990509276, -0.226987178), (18.890750135, -0.176834679), (18.78510835, -0.13414482), (18.674502158, -0.105519704), (18.56164437, -0.085910162), (18.485310084, -0.084084054), (18.446897736, -0.083165134)],
                knots=[0, 0, 0, 0, 1.154881502, 2.222775134, 3.210006277, 4.132804581, 5.035138423, 5.962687519, 6.919655026, 7.923214229, 8.944639381, 9.960483929, 10.97369054, 12, 12, 12, 12], degree=3))
            add(Edge.make_bspline(
                [(18.446897736, -0.083165134), (18.415548298, -0.083776805), (18.353577049, -0.084985951), (18.262275981, -0.096456081), (18.174596282, -0.115415925), (18.089890994, -0.141380882), (18.009270126, -0.175989485), (17.931075358, -0.216572711), (17.857294961, -0.266114295), (17.811153666, -0.30387315), (17.787843249, -0.322948787)],
                knots=[0, 0, 0, 0, 1.04873581, 2.073130211, 3.073294108, 4.04793562, 5.032784715, 6.005352987, 6.992311501, 8, 8, 8, 8], degree=3))
            add(Edge.make_bspline(
                [(17.787843249, -0.322948787), (17.771149967, -0.338043103), (17.737366833, -0.368590319), (17.692226312, -0.421219526), (17.649005839, -0.477971088), (17.609672186, -0.541016212), (17.5735946, -0.609636991), (17.539834622, -0.683254627), (17.50944821, -0.762427757), (17.4923521, -0.817600196), (17.48355639, -0.845985646)],
                knots=[0, 0, 0, 0, 0.879870761, 1.780643979, 2.707998968, 3.669668524, 4.684282772, 5.740141944, 6.837334558, 8, 8, 8, 8], degree=3))
            Line((17.48355639, -0.845985646), (19.42496264, -0.845985646))
        make_face(mode=Mode.SUBTRACT)
    extrude(amount=-CUT_EXTRUDE7_DEPTH, mode=Mode.SUBTRACT)


solid = part.part
